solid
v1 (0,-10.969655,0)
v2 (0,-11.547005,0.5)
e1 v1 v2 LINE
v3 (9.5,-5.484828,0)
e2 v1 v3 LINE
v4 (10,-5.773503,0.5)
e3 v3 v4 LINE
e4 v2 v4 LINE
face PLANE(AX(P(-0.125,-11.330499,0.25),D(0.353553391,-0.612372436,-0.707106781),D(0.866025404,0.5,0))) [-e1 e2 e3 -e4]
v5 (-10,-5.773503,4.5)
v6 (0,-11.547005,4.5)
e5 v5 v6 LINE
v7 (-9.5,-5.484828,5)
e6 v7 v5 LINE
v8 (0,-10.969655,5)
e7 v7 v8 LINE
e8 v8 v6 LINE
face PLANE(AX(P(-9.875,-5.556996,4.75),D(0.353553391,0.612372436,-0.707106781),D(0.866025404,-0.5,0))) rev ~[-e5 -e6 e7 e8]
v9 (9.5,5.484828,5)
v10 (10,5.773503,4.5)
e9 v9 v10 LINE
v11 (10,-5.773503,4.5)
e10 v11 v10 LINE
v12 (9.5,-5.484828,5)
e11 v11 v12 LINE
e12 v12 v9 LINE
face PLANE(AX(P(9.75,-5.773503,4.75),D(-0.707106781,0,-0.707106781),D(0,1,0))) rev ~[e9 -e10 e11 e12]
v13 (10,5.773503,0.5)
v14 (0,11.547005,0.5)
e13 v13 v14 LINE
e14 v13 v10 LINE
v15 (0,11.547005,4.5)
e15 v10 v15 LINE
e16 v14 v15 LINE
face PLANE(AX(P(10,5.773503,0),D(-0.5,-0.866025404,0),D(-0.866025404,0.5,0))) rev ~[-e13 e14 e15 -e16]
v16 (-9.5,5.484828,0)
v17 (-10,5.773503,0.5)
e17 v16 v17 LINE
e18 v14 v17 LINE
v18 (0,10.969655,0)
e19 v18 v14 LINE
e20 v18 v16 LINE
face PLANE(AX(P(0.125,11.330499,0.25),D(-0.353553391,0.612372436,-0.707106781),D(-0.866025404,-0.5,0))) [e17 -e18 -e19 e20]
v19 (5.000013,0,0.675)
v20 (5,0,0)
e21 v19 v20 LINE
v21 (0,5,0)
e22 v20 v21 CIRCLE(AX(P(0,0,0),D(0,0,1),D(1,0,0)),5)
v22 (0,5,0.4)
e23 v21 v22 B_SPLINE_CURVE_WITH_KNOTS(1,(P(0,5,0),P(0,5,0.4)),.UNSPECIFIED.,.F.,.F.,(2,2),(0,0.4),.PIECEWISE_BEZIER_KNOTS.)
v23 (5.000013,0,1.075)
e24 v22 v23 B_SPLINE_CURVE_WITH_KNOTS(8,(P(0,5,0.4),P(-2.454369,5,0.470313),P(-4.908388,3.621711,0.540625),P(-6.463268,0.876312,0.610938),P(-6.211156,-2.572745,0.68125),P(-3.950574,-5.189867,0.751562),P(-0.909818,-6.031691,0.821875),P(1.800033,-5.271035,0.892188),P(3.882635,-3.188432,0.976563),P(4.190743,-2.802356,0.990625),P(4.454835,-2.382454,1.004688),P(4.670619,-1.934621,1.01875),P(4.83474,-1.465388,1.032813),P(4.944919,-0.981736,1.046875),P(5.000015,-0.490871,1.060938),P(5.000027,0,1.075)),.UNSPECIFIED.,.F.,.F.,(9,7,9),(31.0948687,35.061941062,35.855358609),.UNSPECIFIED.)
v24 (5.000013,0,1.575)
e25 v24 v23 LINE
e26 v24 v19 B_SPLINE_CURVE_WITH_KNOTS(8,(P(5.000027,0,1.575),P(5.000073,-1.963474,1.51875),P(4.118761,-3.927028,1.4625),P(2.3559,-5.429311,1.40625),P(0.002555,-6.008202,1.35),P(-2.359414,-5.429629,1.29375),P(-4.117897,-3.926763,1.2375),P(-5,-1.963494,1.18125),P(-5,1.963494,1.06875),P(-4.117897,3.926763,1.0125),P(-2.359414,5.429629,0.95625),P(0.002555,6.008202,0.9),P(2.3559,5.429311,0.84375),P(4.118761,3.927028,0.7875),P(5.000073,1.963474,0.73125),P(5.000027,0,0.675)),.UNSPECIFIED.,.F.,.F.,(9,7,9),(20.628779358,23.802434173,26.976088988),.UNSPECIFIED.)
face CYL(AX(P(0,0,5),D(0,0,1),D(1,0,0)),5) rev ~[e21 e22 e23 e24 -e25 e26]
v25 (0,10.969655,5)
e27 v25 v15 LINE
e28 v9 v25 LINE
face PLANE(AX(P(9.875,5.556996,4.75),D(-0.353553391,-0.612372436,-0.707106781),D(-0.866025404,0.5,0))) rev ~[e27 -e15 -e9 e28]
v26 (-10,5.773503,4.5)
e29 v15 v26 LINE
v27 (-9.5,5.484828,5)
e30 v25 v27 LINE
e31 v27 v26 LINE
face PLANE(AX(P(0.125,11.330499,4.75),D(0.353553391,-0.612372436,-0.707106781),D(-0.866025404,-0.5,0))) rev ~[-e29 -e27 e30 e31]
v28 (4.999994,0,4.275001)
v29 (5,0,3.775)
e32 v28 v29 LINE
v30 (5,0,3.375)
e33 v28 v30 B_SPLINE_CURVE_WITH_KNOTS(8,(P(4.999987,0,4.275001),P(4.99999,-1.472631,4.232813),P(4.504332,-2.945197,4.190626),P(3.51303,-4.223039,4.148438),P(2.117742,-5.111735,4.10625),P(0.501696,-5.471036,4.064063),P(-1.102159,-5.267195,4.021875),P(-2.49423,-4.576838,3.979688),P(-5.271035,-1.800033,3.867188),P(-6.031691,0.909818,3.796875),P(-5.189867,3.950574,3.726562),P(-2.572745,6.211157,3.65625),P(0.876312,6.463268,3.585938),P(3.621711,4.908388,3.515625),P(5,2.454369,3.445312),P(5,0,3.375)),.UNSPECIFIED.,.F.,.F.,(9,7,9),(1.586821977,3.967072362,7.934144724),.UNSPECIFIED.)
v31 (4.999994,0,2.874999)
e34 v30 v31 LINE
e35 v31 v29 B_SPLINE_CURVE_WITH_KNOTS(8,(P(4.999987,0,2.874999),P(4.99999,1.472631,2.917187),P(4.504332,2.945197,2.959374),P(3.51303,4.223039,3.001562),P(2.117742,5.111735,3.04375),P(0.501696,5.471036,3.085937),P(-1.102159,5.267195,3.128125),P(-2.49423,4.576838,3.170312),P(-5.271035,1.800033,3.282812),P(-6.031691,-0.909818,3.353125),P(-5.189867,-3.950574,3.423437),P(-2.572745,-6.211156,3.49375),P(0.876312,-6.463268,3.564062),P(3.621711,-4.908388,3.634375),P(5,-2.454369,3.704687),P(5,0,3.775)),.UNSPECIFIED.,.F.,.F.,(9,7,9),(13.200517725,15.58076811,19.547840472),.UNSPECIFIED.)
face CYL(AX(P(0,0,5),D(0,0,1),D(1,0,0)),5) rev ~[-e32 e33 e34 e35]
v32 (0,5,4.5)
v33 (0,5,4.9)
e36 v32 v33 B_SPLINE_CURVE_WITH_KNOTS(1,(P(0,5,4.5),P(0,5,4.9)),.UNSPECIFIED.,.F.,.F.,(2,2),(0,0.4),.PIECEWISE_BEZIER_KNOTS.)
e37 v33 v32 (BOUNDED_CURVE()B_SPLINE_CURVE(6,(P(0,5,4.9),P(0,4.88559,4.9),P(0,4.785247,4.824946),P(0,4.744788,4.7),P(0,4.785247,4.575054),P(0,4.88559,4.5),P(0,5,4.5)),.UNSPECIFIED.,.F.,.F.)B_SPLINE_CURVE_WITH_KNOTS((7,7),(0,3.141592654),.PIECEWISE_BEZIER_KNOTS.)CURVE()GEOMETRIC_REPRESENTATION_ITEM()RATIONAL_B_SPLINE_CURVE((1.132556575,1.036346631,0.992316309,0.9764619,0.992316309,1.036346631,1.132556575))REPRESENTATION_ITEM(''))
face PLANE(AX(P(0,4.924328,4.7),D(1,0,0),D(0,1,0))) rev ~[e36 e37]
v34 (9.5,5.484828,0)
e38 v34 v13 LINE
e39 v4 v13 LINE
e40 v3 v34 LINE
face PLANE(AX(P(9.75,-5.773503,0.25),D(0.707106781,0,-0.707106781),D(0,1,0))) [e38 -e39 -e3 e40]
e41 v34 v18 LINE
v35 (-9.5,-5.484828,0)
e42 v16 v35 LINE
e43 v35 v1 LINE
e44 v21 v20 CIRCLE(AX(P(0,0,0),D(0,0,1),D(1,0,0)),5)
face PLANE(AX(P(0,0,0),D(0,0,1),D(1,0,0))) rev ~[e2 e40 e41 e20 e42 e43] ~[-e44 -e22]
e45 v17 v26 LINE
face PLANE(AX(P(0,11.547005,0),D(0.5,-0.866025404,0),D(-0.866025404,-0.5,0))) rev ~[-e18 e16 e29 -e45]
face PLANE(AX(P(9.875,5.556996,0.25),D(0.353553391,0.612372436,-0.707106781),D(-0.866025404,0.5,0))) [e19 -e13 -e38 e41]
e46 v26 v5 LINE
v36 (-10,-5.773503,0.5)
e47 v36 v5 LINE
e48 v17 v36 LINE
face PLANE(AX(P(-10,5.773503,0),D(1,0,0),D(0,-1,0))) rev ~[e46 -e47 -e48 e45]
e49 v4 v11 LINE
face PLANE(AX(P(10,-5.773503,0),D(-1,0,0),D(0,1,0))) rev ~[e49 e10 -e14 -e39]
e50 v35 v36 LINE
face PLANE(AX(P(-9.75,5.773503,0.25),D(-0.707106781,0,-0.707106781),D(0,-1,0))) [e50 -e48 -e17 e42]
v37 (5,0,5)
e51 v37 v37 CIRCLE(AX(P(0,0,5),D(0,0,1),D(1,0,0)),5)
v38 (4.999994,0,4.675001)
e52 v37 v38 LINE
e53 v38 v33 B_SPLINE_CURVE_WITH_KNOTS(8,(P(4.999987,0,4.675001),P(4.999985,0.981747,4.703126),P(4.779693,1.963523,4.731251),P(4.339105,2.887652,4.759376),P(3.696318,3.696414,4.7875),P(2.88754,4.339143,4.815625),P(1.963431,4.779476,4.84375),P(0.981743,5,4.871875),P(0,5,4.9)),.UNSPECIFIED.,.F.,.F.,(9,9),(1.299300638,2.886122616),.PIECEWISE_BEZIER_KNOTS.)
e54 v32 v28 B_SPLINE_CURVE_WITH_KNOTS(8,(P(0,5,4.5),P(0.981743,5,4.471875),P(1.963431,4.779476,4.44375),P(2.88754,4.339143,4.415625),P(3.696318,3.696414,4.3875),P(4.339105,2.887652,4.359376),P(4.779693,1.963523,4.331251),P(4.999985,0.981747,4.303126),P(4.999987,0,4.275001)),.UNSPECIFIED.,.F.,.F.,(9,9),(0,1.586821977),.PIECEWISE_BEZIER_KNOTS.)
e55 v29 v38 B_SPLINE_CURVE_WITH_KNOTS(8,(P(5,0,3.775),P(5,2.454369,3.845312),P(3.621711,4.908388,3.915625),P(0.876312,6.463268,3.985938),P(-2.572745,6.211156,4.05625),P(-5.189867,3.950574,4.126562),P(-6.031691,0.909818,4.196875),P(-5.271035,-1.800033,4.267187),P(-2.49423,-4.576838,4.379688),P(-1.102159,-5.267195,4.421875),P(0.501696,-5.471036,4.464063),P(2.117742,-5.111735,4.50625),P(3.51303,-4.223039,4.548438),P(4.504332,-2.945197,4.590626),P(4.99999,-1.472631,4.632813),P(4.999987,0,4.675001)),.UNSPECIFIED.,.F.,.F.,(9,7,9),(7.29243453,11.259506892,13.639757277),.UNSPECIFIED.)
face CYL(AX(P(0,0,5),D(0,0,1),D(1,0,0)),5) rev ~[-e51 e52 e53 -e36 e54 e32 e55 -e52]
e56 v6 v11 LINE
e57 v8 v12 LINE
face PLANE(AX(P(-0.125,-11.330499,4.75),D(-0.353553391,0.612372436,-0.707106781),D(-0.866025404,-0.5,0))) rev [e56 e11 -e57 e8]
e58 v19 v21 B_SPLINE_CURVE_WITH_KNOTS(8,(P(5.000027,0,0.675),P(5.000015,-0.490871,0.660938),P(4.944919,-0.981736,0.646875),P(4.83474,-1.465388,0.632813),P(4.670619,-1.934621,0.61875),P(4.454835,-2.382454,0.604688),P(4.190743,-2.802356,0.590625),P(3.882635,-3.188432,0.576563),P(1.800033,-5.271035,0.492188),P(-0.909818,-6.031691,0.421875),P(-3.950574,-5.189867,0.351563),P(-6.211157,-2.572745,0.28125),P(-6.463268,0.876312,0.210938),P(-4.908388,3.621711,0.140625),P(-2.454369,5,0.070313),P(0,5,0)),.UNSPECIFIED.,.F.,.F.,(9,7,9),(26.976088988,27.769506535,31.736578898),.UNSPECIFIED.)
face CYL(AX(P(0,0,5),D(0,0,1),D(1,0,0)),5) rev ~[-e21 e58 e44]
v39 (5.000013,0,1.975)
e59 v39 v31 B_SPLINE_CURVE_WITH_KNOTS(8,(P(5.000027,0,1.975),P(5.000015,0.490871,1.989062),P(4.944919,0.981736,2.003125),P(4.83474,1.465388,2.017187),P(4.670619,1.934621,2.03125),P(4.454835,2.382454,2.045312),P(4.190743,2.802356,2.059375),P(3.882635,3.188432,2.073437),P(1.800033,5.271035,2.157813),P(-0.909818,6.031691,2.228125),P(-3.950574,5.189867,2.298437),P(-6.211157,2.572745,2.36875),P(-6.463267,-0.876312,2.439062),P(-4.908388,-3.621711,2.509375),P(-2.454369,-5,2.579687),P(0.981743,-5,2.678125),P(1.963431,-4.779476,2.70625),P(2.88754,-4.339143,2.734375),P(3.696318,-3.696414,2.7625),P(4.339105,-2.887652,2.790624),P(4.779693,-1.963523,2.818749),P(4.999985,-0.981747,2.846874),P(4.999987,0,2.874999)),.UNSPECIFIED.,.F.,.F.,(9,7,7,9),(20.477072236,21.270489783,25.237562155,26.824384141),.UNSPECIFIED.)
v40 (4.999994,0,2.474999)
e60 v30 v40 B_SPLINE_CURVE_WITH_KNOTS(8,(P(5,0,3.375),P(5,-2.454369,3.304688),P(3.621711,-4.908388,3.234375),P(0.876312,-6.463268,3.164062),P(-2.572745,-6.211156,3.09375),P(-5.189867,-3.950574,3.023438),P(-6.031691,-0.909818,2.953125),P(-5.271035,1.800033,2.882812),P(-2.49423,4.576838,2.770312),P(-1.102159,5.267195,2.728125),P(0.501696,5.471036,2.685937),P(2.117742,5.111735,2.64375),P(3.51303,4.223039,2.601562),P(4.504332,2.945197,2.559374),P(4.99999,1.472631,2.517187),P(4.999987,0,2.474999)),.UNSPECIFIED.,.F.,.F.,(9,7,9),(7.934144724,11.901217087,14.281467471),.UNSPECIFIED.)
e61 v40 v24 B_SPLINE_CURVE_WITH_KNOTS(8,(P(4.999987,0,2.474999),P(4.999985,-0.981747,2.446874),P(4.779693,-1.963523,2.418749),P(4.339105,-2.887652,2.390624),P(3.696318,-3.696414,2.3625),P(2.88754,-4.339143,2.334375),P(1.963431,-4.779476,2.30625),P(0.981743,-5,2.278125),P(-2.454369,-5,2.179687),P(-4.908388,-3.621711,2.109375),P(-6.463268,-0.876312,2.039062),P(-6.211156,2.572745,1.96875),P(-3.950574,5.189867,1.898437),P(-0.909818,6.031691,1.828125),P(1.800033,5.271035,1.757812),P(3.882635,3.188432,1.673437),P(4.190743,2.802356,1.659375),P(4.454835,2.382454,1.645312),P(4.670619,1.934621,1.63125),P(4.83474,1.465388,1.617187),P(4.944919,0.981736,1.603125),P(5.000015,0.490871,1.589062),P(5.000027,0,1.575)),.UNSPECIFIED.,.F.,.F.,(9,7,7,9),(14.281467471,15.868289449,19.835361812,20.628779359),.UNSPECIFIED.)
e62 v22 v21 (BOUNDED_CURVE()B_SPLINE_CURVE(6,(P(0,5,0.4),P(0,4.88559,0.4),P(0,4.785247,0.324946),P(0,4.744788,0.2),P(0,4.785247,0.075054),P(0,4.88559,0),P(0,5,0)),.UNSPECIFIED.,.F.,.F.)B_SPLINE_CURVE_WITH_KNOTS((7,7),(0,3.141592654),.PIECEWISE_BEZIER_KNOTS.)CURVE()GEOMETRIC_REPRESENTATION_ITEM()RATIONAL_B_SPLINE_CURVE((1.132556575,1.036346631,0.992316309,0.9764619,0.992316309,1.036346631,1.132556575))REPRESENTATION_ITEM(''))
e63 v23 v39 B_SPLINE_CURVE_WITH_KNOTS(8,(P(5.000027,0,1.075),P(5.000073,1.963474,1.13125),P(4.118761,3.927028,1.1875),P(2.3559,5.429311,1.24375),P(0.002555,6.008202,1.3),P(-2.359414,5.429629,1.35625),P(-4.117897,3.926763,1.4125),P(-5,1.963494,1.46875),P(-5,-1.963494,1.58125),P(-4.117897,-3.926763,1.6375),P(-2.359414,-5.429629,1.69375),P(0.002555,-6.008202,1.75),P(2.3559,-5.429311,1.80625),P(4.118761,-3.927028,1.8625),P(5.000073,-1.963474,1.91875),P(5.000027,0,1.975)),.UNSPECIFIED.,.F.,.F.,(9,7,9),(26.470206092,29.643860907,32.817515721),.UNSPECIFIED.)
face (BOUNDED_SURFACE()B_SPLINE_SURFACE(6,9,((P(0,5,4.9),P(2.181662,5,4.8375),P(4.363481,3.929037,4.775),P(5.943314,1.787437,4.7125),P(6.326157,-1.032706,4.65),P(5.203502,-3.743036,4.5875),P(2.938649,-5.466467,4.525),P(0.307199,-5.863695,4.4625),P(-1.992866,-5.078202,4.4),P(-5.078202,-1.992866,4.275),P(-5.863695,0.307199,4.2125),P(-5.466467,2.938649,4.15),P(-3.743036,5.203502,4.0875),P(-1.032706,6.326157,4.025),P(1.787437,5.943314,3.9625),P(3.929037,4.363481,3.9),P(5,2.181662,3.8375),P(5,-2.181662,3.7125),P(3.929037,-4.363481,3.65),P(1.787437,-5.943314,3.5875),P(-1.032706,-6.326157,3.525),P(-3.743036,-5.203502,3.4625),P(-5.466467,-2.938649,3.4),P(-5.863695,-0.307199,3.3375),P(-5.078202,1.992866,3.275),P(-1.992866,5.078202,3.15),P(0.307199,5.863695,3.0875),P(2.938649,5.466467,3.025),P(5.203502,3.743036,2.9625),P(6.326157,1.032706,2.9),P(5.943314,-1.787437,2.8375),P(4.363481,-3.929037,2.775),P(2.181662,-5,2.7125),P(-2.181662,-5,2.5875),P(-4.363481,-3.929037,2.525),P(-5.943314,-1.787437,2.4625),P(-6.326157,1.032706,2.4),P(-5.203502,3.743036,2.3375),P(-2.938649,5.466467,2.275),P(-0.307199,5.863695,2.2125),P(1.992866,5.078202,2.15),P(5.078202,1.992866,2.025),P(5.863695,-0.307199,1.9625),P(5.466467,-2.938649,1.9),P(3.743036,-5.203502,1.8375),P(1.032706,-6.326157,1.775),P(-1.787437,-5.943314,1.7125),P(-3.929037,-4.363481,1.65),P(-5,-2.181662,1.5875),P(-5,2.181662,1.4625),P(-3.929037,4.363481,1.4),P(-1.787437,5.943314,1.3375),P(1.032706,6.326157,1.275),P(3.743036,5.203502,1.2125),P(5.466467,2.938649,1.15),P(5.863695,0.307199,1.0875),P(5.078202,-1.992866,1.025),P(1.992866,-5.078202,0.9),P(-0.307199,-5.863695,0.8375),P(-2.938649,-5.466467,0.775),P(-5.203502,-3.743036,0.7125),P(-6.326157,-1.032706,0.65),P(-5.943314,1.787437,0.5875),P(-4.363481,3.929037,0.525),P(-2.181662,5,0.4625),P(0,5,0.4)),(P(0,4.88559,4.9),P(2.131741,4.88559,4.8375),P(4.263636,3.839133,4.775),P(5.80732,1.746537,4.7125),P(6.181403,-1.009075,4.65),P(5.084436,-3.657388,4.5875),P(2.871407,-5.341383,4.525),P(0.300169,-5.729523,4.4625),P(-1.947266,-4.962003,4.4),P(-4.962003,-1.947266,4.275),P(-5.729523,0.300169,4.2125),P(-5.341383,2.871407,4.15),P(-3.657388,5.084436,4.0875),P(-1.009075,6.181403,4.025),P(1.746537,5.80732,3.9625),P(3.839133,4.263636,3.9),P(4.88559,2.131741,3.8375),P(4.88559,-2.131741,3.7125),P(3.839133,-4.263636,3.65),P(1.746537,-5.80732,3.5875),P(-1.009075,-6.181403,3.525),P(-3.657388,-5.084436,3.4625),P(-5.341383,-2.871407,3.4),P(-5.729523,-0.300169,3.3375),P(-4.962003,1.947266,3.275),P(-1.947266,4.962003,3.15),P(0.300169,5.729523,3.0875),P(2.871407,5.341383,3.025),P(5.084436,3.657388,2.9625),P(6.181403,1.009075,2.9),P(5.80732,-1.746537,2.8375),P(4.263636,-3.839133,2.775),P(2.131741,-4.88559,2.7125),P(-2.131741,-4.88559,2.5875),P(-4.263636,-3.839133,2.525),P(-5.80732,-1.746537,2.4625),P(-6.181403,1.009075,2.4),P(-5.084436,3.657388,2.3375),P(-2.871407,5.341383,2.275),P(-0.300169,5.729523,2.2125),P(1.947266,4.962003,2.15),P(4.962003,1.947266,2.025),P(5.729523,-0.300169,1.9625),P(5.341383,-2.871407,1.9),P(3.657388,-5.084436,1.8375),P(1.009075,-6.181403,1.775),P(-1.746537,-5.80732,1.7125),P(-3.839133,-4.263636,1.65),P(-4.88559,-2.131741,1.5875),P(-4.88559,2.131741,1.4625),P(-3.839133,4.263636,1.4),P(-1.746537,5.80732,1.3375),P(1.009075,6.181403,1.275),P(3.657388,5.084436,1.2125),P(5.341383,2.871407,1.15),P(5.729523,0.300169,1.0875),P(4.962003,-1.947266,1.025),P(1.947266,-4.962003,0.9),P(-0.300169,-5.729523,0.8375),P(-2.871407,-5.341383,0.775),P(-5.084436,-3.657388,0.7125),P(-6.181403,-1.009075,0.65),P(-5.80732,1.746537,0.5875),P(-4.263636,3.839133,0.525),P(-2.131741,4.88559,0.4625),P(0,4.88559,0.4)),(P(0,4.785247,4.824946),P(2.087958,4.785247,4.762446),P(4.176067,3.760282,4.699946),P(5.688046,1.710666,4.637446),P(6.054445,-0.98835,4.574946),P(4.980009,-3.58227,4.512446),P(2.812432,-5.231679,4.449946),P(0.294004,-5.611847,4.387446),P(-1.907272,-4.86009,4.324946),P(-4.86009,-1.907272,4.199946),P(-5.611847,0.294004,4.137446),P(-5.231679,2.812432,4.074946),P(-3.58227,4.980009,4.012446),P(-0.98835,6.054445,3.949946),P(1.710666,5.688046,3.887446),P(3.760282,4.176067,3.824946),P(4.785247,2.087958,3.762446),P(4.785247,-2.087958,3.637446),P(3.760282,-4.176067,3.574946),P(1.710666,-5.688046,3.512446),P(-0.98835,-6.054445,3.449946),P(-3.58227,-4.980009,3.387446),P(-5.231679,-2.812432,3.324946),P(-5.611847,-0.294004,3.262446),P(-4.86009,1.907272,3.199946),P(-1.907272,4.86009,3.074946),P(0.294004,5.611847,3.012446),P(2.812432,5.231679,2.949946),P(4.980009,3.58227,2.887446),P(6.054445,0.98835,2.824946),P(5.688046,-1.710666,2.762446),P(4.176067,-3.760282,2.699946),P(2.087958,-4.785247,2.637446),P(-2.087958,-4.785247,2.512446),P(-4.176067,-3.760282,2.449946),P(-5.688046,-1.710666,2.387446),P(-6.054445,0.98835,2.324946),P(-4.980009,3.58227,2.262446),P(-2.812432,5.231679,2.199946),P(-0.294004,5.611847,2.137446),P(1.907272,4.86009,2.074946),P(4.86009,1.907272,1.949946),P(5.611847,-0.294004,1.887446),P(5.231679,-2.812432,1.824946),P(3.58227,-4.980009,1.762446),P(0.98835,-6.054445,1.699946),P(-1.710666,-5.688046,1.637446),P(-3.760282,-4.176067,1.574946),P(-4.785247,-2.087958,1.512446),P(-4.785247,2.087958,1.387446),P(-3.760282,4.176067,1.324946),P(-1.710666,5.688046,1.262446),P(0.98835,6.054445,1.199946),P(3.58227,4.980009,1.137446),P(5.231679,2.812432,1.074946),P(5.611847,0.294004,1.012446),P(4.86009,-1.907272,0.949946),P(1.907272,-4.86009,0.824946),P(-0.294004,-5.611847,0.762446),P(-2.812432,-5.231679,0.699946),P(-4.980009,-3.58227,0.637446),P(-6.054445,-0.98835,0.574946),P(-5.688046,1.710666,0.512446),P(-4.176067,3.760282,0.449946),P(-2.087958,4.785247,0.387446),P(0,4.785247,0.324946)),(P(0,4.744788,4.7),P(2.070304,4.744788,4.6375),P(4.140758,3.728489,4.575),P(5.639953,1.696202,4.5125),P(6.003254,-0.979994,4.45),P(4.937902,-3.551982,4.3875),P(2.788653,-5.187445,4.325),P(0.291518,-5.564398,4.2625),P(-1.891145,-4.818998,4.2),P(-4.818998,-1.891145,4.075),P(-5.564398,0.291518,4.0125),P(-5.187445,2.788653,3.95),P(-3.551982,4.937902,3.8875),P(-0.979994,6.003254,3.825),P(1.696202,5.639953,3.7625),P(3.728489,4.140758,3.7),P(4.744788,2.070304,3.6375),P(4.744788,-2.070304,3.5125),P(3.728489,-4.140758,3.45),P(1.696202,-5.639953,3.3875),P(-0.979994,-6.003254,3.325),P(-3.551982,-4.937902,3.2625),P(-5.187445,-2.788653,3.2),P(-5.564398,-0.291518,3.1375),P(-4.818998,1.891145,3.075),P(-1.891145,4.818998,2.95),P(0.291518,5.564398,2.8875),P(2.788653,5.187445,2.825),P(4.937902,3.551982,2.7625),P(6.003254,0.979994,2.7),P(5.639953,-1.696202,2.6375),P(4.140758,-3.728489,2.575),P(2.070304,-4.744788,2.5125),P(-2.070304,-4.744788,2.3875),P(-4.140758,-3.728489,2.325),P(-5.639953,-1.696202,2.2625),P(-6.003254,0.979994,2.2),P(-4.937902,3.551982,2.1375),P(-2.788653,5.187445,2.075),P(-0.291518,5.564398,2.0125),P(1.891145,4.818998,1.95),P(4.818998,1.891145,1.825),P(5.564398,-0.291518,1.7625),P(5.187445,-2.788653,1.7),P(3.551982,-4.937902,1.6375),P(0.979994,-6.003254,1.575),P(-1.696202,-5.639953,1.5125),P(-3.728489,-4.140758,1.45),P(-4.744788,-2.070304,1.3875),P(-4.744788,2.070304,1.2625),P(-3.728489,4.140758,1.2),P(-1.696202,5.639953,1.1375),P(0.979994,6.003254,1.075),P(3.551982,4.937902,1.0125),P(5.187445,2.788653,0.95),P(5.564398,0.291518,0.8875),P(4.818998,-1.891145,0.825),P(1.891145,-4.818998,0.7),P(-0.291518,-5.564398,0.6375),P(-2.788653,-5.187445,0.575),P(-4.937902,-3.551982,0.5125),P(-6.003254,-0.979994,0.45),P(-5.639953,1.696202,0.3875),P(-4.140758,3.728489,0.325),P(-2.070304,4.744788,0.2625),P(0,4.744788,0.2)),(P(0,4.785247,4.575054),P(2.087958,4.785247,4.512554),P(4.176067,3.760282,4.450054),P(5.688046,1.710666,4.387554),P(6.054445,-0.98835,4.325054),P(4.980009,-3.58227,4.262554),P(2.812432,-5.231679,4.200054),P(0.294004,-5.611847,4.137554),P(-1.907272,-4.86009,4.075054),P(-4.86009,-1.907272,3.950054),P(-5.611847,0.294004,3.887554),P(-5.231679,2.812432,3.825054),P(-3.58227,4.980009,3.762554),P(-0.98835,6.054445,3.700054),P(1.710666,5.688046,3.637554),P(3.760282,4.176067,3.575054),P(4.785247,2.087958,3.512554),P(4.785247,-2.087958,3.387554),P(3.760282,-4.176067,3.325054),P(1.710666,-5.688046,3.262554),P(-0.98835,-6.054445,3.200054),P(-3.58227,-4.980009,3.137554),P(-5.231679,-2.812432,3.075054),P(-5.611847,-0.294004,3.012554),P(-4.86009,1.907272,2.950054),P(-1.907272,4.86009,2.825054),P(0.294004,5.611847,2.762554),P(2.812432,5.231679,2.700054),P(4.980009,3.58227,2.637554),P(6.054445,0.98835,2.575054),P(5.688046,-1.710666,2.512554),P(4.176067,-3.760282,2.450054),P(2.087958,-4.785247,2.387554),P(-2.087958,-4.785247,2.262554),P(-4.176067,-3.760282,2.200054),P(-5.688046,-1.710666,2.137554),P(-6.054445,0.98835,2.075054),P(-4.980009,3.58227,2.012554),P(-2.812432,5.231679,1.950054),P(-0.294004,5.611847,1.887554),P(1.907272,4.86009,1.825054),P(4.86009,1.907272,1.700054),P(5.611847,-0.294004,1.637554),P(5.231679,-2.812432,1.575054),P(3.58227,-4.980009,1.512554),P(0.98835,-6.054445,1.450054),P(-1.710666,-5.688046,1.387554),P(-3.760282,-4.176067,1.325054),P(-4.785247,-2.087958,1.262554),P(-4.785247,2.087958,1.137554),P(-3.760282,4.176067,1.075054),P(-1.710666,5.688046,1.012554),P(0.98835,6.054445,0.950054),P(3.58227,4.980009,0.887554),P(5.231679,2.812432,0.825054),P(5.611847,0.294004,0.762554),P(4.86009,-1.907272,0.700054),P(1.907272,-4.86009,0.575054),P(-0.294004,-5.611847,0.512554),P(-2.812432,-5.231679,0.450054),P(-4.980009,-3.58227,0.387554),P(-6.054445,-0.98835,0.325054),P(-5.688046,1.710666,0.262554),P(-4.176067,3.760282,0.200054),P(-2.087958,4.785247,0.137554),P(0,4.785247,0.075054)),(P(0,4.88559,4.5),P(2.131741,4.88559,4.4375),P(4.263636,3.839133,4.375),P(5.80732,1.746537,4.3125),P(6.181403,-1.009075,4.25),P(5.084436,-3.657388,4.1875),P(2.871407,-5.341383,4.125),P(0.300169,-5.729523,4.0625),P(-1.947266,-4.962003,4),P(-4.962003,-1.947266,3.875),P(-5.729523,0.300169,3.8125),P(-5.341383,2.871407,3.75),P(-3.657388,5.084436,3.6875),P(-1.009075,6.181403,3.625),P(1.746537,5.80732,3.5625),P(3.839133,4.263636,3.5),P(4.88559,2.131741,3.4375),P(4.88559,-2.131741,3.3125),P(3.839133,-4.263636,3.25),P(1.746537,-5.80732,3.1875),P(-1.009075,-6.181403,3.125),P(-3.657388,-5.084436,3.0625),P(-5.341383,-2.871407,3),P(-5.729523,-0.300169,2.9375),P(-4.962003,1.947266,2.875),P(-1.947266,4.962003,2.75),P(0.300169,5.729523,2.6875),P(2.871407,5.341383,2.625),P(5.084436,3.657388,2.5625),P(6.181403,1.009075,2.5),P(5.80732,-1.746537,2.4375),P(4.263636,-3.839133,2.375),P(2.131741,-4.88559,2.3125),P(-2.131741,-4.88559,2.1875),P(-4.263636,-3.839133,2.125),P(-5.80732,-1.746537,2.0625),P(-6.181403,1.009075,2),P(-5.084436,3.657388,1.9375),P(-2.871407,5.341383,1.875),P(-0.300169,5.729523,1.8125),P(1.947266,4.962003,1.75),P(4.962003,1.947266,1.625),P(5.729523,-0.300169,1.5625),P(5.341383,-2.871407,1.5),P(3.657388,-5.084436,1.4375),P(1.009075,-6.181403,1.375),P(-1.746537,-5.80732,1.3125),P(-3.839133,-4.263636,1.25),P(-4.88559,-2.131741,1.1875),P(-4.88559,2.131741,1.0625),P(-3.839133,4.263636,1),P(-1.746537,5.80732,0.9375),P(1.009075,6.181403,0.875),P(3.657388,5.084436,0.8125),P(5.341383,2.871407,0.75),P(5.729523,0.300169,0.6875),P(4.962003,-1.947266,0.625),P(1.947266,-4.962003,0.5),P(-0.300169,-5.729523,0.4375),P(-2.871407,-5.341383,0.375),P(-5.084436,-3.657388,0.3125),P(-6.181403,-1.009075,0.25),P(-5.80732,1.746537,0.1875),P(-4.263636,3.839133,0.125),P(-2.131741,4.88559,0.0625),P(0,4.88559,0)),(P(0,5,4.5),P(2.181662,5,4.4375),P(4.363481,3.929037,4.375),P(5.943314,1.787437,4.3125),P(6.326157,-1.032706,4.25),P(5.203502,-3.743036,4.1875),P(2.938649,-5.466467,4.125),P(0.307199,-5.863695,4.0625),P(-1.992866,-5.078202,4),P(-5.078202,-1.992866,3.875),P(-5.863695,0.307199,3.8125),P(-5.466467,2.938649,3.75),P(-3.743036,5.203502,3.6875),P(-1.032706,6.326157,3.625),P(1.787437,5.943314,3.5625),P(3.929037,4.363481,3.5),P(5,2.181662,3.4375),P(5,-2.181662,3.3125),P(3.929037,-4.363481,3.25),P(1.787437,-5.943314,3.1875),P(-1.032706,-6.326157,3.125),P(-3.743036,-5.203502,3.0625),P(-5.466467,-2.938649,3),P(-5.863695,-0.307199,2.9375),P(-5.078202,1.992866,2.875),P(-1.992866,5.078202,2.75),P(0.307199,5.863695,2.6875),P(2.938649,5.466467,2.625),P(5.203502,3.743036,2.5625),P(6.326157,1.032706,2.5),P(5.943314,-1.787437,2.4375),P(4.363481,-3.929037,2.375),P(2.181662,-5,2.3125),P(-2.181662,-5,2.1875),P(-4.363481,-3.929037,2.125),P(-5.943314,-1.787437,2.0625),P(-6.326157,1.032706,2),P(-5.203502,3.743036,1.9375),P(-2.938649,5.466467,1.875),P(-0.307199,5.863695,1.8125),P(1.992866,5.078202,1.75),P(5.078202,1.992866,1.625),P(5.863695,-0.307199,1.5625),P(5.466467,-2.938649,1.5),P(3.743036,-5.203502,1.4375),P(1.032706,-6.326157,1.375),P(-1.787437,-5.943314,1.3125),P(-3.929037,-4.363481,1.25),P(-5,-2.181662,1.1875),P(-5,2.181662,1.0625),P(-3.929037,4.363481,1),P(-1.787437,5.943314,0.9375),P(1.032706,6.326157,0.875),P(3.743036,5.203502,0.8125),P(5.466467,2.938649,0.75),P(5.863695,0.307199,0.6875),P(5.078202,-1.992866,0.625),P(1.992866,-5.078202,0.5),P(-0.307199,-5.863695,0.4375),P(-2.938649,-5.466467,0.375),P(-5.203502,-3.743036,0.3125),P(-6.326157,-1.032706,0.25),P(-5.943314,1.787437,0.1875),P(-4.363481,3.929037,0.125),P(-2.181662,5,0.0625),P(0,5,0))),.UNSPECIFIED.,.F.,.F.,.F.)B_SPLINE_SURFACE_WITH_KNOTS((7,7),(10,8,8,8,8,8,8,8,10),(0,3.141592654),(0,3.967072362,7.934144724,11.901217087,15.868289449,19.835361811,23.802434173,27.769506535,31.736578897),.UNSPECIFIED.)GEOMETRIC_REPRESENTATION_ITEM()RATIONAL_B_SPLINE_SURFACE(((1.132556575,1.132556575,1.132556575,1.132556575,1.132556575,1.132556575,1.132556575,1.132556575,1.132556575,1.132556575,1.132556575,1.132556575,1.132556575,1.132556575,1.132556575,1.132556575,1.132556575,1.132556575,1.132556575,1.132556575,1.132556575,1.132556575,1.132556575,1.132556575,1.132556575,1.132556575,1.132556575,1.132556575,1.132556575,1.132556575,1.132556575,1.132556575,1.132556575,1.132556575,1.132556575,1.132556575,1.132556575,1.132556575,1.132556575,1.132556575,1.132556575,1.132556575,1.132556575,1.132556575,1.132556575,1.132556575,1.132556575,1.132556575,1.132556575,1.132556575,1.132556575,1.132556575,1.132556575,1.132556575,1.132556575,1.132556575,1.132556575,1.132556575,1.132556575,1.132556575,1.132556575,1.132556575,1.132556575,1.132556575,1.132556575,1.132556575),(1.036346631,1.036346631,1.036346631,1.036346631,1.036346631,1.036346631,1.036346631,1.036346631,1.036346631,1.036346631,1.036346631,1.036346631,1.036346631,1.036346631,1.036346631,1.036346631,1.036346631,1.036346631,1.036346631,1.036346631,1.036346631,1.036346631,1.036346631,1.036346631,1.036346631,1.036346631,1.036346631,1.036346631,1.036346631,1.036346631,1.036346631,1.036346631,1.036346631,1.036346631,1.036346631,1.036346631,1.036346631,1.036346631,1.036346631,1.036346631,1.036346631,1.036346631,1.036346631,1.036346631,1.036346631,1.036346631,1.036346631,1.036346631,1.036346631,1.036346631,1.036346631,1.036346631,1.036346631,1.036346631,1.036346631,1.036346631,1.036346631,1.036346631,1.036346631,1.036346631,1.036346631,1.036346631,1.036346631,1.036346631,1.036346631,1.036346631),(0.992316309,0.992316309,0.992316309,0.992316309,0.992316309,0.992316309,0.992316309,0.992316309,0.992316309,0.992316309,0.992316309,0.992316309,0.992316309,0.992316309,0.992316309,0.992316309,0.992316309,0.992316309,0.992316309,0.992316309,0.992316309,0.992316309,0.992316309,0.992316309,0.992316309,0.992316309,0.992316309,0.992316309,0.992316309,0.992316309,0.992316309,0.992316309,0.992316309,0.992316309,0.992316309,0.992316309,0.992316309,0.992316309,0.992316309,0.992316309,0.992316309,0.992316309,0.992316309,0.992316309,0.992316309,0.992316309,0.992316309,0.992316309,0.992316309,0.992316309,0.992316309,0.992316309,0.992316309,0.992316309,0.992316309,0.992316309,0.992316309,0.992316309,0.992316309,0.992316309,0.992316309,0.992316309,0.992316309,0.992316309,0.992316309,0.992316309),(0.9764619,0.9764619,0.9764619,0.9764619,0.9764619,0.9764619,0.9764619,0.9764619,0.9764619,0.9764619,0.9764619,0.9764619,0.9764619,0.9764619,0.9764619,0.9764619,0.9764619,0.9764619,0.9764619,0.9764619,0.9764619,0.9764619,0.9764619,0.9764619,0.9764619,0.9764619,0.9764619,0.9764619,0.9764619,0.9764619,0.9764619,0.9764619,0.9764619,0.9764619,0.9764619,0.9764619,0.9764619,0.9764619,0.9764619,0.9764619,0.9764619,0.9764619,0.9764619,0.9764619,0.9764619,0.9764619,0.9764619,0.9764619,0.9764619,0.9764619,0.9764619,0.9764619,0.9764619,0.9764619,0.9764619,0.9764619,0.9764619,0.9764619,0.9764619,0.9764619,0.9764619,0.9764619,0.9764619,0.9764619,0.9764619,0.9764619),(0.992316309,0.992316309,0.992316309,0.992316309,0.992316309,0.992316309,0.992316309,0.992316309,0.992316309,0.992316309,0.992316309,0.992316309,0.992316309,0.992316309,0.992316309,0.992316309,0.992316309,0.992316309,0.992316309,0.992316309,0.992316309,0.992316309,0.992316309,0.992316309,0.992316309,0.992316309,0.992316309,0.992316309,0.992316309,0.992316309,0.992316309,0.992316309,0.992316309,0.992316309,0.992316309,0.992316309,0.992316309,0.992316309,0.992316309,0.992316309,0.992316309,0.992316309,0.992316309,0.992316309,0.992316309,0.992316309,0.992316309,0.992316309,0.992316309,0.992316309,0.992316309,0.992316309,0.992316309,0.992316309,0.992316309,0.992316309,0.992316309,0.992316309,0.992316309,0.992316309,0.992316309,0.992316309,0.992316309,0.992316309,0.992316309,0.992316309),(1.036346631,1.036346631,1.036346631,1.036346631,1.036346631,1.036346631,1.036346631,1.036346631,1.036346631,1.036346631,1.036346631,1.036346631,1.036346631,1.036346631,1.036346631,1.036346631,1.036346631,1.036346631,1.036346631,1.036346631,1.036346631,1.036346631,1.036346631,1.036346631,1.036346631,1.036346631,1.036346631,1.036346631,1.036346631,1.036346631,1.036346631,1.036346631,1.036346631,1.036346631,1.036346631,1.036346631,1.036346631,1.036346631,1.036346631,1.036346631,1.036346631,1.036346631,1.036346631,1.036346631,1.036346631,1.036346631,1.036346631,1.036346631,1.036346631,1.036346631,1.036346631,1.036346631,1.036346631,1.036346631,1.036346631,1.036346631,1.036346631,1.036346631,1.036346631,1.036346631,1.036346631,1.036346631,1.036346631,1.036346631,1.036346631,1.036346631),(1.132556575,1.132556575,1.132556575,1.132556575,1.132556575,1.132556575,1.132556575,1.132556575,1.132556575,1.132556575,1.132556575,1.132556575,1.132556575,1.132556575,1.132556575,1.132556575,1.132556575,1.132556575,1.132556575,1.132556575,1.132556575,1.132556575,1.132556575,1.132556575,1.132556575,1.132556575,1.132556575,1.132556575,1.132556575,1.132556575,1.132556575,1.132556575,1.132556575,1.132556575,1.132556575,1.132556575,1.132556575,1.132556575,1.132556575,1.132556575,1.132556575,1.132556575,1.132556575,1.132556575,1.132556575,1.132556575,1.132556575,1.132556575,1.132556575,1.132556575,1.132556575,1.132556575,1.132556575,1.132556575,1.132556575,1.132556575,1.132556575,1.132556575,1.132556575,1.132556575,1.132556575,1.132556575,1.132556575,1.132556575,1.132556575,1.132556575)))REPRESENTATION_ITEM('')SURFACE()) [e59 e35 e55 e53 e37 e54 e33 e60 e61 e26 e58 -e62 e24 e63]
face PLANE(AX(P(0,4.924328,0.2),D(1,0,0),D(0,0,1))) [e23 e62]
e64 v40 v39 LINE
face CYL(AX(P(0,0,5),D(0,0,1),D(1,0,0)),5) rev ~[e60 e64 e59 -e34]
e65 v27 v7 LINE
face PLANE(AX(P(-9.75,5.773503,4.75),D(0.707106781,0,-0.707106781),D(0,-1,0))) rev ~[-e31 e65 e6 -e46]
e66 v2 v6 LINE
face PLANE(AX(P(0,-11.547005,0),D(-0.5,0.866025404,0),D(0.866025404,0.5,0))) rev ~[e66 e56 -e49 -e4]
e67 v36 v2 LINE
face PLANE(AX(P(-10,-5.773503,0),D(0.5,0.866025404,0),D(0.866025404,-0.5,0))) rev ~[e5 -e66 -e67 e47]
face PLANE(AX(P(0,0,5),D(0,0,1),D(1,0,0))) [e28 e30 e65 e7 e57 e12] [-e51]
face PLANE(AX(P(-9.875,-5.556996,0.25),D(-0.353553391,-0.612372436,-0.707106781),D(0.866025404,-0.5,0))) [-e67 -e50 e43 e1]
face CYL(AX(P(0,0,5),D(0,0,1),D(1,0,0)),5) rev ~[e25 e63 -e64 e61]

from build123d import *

# Parameters (mm, degrees)
BOSS_EXTRUDE1_DEPTH     = 5
SKETCH2_R               = 5
CUT_EXTRUDE1_DEPTH      = 1
CUT_EXTRUDE1_DEPTH_BACK = 6
SWEEP1_PITCH            = 0.9
SWEEP1_HEIGHT           = 4.5
SWEEP1_RADIUS           = 5
SWEEP1_START_ANGLE      = 90
CHAMFER1_SIZE           = 0.5


with BuildPart() as part:
    # Sketch1 → Boss-Extrude1 (new body)
    with BuildSketch(Plane.XY):
        Polygon((0, 11.547005384), (-10, 5.773502692), (-10, -5.773502692), (0, -11.547005384), (10, -5.773502692), (10, 5.773502692), align=None)
    extrude(amount=BOSS_EXTRUDE1_DEPTH)

    # Sketch2 → Cut-Extrude1 (cut, two sides)
    with BuildSketch(Plane.XY.offset(5)) as cut_extrude1_sk:
        Circle(SKETCH2_R)
    extrude(amount=CUT_EXTRUDE1_DEPTH, mode=Mode.SUBTRACT)
    extrude(cut_extrude1_sk.sketch, amount=-CUT_EXTRUDE1_DEPTH_BACK, mode=Mode.SUBTRACT)

    # Sweep1: sweep along a helix
    with BuildLine() as sweep1_path:
        add(Helix(SWEEP1_PITCH, SWEEP1_HEIGHT, SWEEP1_RADIUS, center=(0, 0, 5), direction=(0, 0, -1), mode=Mode.PRIVATE).rotate(Axis((0, 0, 5), (0, 0, -1)), SWEEP1_START_ANGLE))
    # Sketch4 → Sweep1 (sweep)
    with BuildSketch(Plane(origin=(0, 0, 0), x_dir=(0, 0, -1), z_dir=(1, 0, 0))):
        with BuildLine():
            Line((0, 5), (-0.4, 5))
            ThreePointArc((-0.4, 5), (-0.2, 4.8), (0, 5))
        make_face()
    sweep(path=sweep1_path.line, is_frenet=True)

    # Chamfer1
    chamfer1_edges = [part.edges().sort_by_distance(p)[0] for p in [
        (-10, 0, 5),
        (-5, -8.660254038, 5),
        (5, -8.660254038, 5),
        (10, 0, 5),
        (5, 8.660254038, 5),
        (10, 0, 0),
        (5, -8.660254038, 0),
        (-5, -8.660254038, 0),
        (-5, 8.660254038, 5),
        (-10, 0, 0),
        (-5, 8.660254038, 0),
        (5, 8.660254038, 0),
    ]]
    chamfer(chamfer1_edges, length=CHAMFER1_SIZE)


solid = part.part
